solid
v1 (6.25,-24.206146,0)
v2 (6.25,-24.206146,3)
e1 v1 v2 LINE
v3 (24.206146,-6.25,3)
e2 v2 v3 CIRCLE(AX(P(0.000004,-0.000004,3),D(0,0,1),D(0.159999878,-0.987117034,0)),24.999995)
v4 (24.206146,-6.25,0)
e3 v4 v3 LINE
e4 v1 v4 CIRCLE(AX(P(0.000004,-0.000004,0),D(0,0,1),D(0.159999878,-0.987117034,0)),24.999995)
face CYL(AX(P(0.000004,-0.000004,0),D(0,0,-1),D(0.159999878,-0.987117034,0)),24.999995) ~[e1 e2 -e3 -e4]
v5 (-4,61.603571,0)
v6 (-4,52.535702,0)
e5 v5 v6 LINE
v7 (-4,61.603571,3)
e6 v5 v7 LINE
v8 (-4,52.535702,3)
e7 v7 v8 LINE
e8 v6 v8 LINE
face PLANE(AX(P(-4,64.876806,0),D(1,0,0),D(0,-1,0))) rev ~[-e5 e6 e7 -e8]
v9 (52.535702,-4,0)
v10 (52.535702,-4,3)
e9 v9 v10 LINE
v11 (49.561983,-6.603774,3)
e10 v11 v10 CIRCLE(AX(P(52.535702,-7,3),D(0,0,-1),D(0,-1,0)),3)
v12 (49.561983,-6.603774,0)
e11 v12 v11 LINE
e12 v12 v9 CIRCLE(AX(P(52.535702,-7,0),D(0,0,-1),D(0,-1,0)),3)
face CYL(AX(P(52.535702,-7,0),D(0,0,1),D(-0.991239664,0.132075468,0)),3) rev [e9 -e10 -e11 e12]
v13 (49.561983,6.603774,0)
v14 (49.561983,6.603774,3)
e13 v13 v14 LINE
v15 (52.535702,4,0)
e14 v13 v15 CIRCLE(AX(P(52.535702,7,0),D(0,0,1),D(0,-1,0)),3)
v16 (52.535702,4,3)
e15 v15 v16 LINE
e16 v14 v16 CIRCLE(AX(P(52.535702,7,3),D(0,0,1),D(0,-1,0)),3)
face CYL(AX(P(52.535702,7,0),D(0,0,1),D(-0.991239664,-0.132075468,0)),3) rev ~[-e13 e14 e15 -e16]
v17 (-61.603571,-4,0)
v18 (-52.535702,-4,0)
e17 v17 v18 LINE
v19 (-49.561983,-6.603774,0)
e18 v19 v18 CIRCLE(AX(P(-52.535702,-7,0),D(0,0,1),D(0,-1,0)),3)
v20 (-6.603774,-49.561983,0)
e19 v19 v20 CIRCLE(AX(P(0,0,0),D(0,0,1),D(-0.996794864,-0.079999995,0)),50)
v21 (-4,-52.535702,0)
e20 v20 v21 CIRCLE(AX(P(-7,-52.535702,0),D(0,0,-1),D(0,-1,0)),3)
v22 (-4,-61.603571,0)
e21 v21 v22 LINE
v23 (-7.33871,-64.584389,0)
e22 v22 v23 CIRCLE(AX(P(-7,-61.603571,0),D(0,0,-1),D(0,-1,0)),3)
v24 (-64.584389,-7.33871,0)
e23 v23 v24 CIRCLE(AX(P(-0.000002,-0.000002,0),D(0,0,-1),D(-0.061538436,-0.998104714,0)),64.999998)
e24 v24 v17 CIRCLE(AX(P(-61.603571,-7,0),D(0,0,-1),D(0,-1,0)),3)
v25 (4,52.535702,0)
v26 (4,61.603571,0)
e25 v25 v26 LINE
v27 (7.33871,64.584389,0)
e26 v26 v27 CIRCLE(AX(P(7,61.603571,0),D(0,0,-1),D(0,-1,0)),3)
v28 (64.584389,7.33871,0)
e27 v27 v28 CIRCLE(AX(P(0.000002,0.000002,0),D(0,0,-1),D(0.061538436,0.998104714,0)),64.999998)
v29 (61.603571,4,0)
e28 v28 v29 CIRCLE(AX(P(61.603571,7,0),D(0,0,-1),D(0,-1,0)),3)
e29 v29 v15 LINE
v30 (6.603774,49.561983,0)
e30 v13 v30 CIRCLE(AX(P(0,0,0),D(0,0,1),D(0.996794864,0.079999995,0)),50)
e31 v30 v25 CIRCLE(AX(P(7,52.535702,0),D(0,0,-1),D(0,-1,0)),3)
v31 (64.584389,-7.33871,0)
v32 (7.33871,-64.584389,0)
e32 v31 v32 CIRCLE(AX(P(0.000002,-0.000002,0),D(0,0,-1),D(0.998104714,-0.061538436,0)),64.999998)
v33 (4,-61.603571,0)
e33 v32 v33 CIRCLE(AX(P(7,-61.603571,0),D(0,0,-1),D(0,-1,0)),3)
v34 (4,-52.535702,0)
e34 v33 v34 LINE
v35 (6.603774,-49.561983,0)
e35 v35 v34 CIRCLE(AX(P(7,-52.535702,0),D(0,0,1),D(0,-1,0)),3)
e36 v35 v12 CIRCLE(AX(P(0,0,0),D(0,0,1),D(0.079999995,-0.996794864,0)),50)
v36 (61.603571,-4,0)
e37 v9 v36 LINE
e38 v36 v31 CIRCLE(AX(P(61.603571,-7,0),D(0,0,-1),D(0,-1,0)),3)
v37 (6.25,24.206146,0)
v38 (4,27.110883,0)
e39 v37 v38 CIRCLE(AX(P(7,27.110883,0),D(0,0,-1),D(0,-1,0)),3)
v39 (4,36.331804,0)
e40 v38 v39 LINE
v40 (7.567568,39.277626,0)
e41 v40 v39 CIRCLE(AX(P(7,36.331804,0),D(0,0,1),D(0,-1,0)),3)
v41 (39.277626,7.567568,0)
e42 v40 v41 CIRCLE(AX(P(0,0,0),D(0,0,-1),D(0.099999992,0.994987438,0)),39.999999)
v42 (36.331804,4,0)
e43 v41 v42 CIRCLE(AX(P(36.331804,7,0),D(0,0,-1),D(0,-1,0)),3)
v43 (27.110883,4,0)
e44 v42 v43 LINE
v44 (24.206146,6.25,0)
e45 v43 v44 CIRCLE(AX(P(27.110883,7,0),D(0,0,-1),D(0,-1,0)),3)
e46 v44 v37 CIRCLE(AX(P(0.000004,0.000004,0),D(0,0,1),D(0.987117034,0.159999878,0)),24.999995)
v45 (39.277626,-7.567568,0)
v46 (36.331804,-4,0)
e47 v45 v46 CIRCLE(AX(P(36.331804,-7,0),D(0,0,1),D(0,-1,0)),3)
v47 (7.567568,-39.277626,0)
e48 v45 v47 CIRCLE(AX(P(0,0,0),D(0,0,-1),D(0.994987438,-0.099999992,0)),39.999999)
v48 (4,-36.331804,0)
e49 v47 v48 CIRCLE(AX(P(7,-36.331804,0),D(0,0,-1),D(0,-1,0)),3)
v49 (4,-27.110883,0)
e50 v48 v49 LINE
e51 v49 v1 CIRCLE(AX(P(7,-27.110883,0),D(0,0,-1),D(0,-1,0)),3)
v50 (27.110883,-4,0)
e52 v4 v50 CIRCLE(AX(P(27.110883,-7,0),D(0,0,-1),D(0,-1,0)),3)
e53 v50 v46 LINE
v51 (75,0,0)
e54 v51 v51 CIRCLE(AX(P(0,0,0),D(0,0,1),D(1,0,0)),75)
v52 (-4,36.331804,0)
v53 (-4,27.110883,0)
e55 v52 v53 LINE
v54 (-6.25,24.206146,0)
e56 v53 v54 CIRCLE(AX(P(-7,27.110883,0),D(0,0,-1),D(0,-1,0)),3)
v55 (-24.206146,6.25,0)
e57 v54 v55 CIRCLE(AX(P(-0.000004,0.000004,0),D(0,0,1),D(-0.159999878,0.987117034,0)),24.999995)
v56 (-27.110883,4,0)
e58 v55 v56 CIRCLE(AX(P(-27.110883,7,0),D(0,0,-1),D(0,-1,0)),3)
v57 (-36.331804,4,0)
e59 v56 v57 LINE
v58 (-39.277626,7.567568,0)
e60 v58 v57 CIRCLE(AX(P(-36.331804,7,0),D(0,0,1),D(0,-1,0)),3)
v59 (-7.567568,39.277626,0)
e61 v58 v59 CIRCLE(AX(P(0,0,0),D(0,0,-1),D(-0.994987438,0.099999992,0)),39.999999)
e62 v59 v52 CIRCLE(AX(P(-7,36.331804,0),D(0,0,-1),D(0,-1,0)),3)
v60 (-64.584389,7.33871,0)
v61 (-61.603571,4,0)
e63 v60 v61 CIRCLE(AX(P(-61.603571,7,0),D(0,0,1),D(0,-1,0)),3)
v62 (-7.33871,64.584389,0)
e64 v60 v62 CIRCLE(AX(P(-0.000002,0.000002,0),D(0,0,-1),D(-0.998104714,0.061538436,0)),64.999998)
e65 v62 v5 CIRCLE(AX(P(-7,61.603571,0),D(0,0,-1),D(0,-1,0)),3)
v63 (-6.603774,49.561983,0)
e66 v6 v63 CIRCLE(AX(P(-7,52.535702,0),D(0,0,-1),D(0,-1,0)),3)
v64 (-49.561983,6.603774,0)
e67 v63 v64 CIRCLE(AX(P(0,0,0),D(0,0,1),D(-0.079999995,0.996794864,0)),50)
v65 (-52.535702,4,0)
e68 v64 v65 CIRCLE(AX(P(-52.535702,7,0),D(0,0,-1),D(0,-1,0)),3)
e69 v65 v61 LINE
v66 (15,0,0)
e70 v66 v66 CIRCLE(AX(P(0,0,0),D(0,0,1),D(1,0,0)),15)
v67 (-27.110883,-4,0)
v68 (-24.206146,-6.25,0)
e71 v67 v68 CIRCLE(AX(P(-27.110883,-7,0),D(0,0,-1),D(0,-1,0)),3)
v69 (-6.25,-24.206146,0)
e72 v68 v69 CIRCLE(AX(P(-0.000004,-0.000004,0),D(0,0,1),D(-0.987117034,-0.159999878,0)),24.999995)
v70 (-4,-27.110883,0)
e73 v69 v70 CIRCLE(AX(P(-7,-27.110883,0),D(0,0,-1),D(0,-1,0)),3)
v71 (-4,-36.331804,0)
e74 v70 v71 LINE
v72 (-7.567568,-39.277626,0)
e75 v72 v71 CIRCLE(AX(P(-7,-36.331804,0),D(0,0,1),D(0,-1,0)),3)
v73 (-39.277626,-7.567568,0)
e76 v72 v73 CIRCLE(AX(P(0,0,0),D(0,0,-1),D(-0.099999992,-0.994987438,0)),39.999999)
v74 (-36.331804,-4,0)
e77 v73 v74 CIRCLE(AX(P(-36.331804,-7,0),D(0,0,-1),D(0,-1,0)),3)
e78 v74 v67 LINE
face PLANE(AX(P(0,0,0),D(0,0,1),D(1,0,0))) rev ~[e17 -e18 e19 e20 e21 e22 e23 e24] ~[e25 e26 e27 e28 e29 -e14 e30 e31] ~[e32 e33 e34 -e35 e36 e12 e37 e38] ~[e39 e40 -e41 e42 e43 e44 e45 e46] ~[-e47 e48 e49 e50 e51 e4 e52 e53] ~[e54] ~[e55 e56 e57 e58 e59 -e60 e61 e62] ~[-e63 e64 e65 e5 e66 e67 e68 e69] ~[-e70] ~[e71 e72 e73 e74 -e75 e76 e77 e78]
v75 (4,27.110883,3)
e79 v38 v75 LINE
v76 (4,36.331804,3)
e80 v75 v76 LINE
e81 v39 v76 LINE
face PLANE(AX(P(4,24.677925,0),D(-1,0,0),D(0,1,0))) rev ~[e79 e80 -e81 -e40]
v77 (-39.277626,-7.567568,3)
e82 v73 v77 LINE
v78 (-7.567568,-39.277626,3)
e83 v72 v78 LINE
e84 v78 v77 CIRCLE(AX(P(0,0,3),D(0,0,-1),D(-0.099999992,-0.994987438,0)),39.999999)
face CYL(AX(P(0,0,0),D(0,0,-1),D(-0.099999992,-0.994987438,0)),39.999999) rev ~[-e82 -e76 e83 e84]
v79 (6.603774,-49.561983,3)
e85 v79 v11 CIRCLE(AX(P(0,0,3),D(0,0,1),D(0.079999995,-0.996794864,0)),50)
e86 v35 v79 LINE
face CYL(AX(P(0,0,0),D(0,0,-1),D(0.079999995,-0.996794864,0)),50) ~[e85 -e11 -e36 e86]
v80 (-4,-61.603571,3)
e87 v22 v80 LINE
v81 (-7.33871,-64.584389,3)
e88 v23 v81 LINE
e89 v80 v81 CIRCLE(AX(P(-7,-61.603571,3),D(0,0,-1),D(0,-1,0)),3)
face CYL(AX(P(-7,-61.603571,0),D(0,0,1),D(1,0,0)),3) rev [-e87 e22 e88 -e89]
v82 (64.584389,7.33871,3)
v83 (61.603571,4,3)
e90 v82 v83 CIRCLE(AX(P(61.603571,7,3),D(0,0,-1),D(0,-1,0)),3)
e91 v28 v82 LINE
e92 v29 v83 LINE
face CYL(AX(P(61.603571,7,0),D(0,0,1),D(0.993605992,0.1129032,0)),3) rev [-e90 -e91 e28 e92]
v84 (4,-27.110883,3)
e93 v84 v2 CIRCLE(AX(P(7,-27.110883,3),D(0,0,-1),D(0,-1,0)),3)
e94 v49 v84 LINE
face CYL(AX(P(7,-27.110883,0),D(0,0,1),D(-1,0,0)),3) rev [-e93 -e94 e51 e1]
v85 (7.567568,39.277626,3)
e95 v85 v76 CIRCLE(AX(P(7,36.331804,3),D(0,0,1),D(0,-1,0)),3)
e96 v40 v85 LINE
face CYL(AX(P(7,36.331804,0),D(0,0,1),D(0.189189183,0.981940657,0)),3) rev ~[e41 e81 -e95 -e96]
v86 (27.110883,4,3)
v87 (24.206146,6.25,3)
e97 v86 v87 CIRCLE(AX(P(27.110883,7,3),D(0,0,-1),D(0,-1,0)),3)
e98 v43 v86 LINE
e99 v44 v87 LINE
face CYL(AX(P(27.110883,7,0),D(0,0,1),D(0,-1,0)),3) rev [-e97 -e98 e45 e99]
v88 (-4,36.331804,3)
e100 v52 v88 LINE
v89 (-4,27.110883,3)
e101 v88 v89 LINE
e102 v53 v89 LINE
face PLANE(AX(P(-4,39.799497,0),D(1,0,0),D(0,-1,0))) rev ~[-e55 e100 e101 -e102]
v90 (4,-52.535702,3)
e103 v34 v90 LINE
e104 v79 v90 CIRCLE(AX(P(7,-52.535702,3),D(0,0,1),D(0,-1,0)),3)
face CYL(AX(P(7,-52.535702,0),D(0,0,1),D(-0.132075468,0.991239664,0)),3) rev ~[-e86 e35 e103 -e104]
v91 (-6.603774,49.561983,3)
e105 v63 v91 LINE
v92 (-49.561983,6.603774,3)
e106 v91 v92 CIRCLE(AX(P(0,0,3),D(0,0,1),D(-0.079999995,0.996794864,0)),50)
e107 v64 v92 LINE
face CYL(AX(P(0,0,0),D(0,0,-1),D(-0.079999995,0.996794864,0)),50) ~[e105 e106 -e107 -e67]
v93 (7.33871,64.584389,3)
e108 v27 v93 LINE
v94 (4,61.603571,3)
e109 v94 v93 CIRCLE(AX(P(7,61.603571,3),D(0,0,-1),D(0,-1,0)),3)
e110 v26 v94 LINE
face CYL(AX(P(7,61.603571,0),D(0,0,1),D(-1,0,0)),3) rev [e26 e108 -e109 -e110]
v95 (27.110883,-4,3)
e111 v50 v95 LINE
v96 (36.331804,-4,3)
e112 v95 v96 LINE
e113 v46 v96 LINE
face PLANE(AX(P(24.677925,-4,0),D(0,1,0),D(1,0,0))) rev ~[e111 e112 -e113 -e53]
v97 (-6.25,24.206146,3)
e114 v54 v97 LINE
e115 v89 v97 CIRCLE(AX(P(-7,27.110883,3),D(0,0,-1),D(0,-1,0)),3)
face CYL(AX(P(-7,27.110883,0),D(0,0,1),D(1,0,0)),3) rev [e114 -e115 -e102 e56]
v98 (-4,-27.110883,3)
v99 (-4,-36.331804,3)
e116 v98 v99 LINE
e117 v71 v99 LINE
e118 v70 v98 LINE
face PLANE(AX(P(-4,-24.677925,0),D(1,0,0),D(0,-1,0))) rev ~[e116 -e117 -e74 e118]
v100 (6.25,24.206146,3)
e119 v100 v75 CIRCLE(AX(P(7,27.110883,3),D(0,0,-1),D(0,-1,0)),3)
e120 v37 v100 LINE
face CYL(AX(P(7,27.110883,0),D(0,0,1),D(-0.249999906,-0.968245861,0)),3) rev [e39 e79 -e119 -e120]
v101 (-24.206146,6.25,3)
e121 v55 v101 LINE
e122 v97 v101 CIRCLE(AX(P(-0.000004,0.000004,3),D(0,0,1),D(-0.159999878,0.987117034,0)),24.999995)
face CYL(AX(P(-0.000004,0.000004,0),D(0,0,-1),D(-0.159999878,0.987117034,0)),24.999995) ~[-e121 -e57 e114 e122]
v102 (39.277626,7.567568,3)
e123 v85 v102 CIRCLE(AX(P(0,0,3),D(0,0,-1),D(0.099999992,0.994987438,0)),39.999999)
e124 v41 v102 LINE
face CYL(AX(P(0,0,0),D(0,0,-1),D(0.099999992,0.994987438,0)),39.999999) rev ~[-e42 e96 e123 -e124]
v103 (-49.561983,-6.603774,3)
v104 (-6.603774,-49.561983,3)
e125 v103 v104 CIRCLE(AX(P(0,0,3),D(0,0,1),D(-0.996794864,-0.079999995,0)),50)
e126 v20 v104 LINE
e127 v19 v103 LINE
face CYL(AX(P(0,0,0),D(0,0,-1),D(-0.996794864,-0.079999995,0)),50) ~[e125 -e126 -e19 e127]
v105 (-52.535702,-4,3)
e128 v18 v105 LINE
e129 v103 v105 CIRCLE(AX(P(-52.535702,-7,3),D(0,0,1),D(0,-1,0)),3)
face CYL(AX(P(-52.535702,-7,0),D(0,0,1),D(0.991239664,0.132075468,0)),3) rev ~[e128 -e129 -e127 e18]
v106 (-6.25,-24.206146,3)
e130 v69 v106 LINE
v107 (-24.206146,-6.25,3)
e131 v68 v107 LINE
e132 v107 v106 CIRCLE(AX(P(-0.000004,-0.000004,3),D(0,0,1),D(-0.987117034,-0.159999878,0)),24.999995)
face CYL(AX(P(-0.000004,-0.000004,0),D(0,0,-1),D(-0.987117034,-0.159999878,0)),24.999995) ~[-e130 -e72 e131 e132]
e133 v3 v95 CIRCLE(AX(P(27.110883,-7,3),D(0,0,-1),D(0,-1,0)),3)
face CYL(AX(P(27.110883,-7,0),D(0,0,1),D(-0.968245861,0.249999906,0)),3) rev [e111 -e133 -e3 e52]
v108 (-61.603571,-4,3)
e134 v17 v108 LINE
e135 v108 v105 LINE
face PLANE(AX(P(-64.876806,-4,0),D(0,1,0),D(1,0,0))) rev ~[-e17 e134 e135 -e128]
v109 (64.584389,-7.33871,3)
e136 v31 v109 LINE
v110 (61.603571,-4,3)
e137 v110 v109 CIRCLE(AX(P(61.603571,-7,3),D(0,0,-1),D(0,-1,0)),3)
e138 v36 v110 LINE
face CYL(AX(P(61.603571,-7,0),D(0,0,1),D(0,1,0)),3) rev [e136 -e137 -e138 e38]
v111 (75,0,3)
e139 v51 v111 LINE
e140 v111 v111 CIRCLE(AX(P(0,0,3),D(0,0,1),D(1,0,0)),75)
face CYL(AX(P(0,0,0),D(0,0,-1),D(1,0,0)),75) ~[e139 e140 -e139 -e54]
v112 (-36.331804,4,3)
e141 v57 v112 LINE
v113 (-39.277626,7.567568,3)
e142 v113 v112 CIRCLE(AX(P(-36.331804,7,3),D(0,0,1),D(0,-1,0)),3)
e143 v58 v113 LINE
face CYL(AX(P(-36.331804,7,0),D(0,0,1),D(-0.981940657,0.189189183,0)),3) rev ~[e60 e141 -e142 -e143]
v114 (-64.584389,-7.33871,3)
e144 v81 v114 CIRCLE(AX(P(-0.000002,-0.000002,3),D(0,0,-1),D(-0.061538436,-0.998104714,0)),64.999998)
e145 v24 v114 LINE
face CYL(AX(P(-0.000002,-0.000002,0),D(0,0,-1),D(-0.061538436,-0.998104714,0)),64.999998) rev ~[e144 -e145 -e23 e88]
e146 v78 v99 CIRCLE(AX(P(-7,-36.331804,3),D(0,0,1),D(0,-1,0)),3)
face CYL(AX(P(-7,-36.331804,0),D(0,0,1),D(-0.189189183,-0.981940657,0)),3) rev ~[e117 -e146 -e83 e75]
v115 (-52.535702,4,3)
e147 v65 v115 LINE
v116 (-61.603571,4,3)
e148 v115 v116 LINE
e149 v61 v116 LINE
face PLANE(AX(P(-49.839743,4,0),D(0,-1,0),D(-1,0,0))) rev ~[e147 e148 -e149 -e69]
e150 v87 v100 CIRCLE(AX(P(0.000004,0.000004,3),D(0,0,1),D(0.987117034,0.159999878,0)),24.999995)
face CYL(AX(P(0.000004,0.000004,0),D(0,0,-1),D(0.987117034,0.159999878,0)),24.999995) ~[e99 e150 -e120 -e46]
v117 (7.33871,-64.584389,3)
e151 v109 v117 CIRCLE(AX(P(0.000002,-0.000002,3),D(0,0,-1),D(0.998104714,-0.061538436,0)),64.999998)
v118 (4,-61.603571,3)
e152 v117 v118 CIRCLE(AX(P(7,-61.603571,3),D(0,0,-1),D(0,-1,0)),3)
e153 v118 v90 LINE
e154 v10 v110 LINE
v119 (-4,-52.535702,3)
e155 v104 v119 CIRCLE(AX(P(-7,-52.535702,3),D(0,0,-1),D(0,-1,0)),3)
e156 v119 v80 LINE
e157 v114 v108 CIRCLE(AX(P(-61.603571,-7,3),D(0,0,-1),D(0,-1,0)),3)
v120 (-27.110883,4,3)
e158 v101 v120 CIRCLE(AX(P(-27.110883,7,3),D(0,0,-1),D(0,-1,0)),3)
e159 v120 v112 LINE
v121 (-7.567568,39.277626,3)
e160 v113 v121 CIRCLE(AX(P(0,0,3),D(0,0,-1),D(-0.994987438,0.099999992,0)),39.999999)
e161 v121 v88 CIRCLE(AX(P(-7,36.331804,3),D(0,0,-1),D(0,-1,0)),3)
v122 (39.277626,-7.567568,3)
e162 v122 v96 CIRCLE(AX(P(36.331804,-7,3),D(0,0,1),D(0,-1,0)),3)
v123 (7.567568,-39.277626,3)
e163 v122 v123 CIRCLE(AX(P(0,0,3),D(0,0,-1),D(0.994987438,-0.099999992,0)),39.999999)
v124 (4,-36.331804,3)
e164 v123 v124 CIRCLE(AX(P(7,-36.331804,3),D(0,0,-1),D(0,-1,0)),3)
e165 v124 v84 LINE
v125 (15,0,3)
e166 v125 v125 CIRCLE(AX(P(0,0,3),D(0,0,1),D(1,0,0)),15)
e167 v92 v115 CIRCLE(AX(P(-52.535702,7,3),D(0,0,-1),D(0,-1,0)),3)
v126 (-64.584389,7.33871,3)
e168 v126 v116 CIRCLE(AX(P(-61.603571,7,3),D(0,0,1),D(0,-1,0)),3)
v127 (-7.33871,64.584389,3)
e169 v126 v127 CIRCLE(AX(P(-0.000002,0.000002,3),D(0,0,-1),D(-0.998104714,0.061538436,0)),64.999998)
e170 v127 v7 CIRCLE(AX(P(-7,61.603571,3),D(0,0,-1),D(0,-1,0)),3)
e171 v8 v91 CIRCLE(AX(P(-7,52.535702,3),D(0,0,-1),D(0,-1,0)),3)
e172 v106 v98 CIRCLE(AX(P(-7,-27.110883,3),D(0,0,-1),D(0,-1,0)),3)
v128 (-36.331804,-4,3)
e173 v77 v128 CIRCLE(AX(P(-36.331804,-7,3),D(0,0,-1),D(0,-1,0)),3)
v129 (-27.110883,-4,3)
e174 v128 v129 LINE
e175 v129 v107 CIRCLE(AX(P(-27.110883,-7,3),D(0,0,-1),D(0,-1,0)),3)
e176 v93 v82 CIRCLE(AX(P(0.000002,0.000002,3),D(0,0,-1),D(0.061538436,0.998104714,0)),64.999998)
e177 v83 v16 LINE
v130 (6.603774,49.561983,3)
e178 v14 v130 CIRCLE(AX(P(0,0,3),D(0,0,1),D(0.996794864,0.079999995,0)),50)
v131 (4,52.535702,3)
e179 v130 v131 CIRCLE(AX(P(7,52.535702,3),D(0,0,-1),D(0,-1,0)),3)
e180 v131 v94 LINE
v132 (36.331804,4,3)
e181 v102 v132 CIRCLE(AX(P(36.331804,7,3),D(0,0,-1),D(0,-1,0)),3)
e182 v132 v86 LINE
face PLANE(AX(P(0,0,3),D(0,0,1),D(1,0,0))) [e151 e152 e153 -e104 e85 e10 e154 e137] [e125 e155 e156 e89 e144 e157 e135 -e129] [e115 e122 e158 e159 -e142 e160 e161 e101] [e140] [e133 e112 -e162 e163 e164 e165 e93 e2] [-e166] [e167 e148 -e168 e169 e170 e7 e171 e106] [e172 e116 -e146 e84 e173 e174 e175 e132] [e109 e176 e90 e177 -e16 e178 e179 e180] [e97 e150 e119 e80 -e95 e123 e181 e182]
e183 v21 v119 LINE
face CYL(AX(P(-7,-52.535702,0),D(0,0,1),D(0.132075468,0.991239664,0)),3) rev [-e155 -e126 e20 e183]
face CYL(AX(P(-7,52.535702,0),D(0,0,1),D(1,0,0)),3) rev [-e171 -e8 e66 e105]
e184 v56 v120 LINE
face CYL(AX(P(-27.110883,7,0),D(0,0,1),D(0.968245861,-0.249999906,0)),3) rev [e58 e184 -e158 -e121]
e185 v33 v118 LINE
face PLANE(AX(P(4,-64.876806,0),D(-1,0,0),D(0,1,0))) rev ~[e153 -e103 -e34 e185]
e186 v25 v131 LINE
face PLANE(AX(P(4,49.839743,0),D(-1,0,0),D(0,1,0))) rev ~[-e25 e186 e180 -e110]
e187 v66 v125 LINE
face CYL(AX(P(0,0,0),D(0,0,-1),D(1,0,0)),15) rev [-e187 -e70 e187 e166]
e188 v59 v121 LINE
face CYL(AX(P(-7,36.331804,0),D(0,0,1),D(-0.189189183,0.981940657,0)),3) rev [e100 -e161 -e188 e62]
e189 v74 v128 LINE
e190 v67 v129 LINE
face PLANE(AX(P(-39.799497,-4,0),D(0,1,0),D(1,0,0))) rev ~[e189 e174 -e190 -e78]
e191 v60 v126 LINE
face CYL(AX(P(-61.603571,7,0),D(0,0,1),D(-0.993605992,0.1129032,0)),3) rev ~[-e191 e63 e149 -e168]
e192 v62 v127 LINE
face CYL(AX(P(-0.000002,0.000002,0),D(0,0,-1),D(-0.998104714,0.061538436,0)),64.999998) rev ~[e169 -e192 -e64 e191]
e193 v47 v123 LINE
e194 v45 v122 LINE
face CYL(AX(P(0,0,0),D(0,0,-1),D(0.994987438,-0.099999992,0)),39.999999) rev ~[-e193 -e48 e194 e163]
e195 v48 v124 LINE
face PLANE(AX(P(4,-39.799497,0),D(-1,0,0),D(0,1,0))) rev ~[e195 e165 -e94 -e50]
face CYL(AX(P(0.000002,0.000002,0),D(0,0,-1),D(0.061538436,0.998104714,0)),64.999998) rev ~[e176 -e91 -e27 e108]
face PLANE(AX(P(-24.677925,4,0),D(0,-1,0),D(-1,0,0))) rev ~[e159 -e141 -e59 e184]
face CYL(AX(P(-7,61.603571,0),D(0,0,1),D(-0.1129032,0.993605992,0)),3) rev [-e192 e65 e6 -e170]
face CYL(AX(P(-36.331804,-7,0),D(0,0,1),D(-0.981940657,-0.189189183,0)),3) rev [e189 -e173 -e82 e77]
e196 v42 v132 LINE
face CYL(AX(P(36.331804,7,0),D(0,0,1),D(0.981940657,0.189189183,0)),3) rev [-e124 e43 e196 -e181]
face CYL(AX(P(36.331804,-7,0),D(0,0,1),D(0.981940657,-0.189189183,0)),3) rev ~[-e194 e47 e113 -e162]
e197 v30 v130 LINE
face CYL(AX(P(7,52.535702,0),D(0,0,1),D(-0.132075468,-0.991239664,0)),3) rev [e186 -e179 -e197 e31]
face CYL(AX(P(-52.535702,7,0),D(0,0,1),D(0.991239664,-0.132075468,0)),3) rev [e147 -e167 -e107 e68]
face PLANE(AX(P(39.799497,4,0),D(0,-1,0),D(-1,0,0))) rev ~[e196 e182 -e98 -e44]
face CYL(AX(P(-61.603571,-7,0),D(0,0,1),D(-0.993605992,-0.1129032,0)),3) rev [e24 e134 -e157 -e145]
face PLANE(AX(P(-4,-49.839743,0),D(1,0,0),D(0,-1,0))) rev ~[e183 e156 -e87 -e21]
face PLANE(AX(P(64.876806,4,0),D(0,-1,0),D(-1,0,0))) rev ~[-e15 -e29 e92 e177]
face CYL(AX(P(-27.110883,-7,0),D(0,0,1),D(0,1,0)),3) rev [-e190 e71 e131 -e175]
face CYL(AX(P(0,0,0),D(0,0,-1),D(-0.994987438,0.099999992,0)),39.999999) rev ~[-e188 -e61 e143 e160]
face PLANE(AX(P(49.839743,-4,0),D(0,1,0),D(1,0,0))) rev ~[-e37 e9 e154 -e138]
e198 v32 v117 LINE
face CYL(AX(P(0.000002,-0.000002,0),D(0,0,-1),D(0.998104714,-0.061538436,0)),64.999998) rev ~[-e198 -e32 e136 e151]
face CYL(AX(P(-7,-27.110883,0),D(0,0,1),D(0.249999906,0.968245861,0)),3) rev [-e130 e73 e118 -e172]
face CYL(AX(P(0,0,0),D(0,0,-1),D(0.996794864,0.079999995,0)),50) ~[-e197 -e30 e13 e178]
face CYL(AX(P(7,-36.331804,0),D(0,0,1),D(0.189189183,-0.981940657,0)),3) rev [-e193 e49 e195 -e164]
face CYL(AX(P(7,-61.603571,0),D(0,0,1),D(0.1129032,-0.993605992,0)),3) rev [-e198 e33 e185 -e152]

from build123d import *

# Parameters (mm, degrees)
F0_R     = 75
F0_R_2   = 15
F1_DEPTH = 3
F2_R     = 3


with BuildPart() as f1:
    # F0 (on Top) → F1 (new body)
    with BuildSketch(Plane.XY):
        Circle(F0_R)
        with BuildLine():
            ThreePointArc((4, 64.876806), (45.961941, 45.961941), (64.876806, 4))
            ThreePointArc((64.876806, 4), (64.969194, 2.000948), (65, 0))
            ThreePointArc((65, 0), (64.969194, -2.000948), (64.876806, -4))
            ThreePointArc((64.876806, -4), (45.961941, -45.961941), (4, -64.876806))
            ThreePointArc((4, -64.876806), (0, -65), (-4, -64.876806))
            ThreePointArc((-4, -64.876806), (-45.961941, -45.961941), (-64.876806, -4))
            ThreePointArc((-64.876806, -4), (-65, 0), (-64.876806, 4))
            ThreePointArc((-64.876806, 4), (-45.961941, 45.961941), (-4, 64.876806))
            ThreePointArc((-4, 64.876806), (0, 65), (4, 64.876806))
        make_face(mode=Mode.SUBTRACT)
        with BuildLine():
            ThreePointArc((-4, 49.839743), (0, 50), (4, 49.839743))
            Line((4, 49.839743), (4, 64.876806))
            ThreePointArc((4, 64.876806), (0, 65), (-4, 64.876806))
            Line((-4, 64.876806), (-4, 49.839743))
        make_face()
        with BuildLine():
            ThreePointArc((49.839743, -4), (49.95992, -2.001604), (50, 0))
            ThreePointArc((50, 0), (49.95992, 2.001604), (49.839743, 4))
            ThreePointArc((49.839743, 4), (35.355339, 35.355339), (4, 49.839743))
            ThreePointArc((4, 49.839743), (0, 50), (-4, 49.839743))
            ThreePointArc((-4, 49.839743), (-35.355339, 35.355339), (-49.839743, 4))
            ThreePointArc((-49.839743, 4), (-50, 0), (-49.839743, -4))
            ThreePointArc((-49.839743, -4), (-35.355339, -35.355339), (-4, -49.839743))
            ThreePointArc((-4, -49.839743), (0, -50), (4, -49.839743))
            ThreePointArc((4, -49.839743), (35.355339, -35.355339), (49.839743, -4))
        make_face()
        with BuildLine():
            ThreePointArc((39.799497, 4), (39.949843, 2.002511), (40, 0))
            ThreePointArc((40, 0), (39.949843, -2.002511), (39.799497, -4))
            ThreePointArc((39.799497, -4), (28.284271, -28.284271), (4, -39.799497))
            ThreePointArc((4, -39.799497), (0, -40), (-4, -39.799497))
            ThreePointArc((-4, -39.799497), (-28.284271, -28.284271), (-39.799497, -4))
            ThreePointArc((-39.799497, -4), (-40, 0), (-39.799497, 4))
            ThreePointArc((-39.799497, 4), (-28.284271, 28.284271), (-4, 39.799497))
            ThreePointArc((-4, 39.799497), (0, 40), (4, 39.799497))
            ThreePointArc((4, 39.799497), (28.284271, 28.284271), (39.799497, 4))
        make_face(mode=Mode.SUBTRACT)
        with BuildLine():
            Line((4, 24.677925), (4, 39.799497))
            ThreePointArc((4, 39.799497), (0, 40), (-4, 39.799497))
            Line((-4, 39.799497), (-4, 24.677925))
            ThreePointArc((-4, 24.677925), (0, 25), (4, 24.677925))
        make_face()
        with BuildLine():
            ThreePointArc((25, 0), (24.919351, 2.006473), (24.677925, 4))
            ThreePointArc((24.677925, 4), (17.67767, 17.67767), (4, 24.677925))
            ThreePointArc((4, 24.677925), (0, 25), (-4, 24.677925))
            ThreePointArc((-4, 24.677925), (-17.67767, 17.67767), (-24.677925, 4))
            ThreePointArc((-24.677925, 4), (-25, 0), (-24.677925, -4))
            ThreePointArc((-24.677925, -4), (-17.67767, -17.67767), (-4, -24.677925))
            ThreePointArc((-4, -24.677925), (0, -25), (4, -24.677925))
            ThreePointArc((4, -24.677925), (17.67767, -17.67767), (24.677925, -4))
            ThreePointArc((24.677925, -4), (24.919351, -2.006473), (25, 0))
        make_face()
        Circle(F0_R_2, mode=Mode.SUBTRACT)
        with BuildLine():
            Line((-24.677925, 4), (-39.799497, 4))
            ThreePointArc((-39.799497, 4), (-40, 0), (-39.799497, -4))
            Line((-39.799497, -4), (-24.677925, -4))
            ThreePointArc((-24.677925, -4), (-25, 0), (-24.677925, 4))
        make_face()
        with BuildLine():
            ThreePointArc((-49.839743, -4), (-50, 0), (-49.839743, 4))
            Line((-49.839743, 4), (-64.876806, 4))
            ThreePointArc((-64.876806, 4), (-65, 0), (-64.876806, -4))
            Line((-64.876806, -4), (-49.839743, -4))
        make_face()
        with BuildLine():
            ThreePointArc((-4, -39.799497), (0, -40), (4, -39.799497))
            Line((4, -39.799497), (4, -24.677925))
            ThreePointArc((4, -24.677925), (0, -25), (-4, -24.677925))
            Line((-4, -24.677925), (-4, -39.799497))
        make_face()
        with BuildLine():
            Line((4, -64.876806), (4, -49.839743))
            ThreePointArc((4, -49.839743), (0, -50), (-4, -49.839743))
            Line((-4, -49.839743), (-4, -64.876806))
            ThreePointArc((-4, -64.876806), (0, -65), (4, -64.876806))
        make_face()
        with BuildLine():
            ThreePointArc((39.799497, -4), (39.949843, -2.002511), (40, 0))
            ThreePointArc((40, 0), (39.949843, 2.002511), (39.799497, 4))
            Line((39.799497, 4), (24.677925, 4))
            ThreePointArc((24.677925, 4), (24.919351, 2.006473), (25, 0))
            ThreePointArc((25, 0), (24.919351, -2.006473), (24.677925, -4))
            Line((24.677925, -4), (39.799497, -4))
        make_face()
        with BuildLine():
            ThreePointArc((49.839743, 4), (49.95992, 2.001604), (50, 0))
            ThreePointArc((50, 0), (49.95992, -2.001604), (49.839743, -4))
            Line((49.839743, -4), (64.876806, -4))
            ThreePointArc((64.876806, -4), (64.969194, -2.000948), (65, 0))
            ThreePointArc((65, 0), (64.969194, 2.000948), (64.876806, 4))
            Line((64.876806, 4), (49.839743, 4))
        make_face()
    extrude(amount=F1_DEPTH)

    # F2
    f2_edges = [f1.edges().sort_by_distance(p)[0] for p in [
        (-64.876806, 4, 1.5),
        (-39.799497, 4, 1.5),
        (4, 24.677925, 1.5),
        (49.839743, 4, 1.5),
        (24.677925, 4, 1.5),
        (4, -39.799497, 1.5),
        (4, -64.876806, 1.5),
        (4, 49.839743, 1.5),
        (64.876806, -4, 1.5),
        (39.799497, -4, 1.5),
        (-4, 39.799497, 1.5),
        (-4, -24.677925, 1.5),
        (-4, -49.839743, 1.5),
        (-49.839743, -4, 1.5),
        (-4, 64.876806, 1.5),
        (4, 64.876806, 1.5),
        (-64.876806, -4, 1.5),
        (-39.799497, -4, 1.5),
        (24.677925, -4, 1.5),
        (49.839743, -4, 1.5),
        (4, -49.839743, 1.5),
        (-4, -64.876806, 1.5),
        (-4, -39.799497, 1.5),
        (-24.677925, 4, 1.5),
        (39.799497, 4, 1.5),
        (64.876806, 4, 1.5),
        (-4, 24.677925, 1.5),
        (-4, 49.839743, 1.5),
        (-49.839743, 4, 1.5),
        (4, -24.677925, 1.5),
        (4, 39.799497, 1.5),
        (-24.677925, -4, 1.5),
    ]]
    fillet(f2_edges, radius=F2_R)


solid = f1.part
